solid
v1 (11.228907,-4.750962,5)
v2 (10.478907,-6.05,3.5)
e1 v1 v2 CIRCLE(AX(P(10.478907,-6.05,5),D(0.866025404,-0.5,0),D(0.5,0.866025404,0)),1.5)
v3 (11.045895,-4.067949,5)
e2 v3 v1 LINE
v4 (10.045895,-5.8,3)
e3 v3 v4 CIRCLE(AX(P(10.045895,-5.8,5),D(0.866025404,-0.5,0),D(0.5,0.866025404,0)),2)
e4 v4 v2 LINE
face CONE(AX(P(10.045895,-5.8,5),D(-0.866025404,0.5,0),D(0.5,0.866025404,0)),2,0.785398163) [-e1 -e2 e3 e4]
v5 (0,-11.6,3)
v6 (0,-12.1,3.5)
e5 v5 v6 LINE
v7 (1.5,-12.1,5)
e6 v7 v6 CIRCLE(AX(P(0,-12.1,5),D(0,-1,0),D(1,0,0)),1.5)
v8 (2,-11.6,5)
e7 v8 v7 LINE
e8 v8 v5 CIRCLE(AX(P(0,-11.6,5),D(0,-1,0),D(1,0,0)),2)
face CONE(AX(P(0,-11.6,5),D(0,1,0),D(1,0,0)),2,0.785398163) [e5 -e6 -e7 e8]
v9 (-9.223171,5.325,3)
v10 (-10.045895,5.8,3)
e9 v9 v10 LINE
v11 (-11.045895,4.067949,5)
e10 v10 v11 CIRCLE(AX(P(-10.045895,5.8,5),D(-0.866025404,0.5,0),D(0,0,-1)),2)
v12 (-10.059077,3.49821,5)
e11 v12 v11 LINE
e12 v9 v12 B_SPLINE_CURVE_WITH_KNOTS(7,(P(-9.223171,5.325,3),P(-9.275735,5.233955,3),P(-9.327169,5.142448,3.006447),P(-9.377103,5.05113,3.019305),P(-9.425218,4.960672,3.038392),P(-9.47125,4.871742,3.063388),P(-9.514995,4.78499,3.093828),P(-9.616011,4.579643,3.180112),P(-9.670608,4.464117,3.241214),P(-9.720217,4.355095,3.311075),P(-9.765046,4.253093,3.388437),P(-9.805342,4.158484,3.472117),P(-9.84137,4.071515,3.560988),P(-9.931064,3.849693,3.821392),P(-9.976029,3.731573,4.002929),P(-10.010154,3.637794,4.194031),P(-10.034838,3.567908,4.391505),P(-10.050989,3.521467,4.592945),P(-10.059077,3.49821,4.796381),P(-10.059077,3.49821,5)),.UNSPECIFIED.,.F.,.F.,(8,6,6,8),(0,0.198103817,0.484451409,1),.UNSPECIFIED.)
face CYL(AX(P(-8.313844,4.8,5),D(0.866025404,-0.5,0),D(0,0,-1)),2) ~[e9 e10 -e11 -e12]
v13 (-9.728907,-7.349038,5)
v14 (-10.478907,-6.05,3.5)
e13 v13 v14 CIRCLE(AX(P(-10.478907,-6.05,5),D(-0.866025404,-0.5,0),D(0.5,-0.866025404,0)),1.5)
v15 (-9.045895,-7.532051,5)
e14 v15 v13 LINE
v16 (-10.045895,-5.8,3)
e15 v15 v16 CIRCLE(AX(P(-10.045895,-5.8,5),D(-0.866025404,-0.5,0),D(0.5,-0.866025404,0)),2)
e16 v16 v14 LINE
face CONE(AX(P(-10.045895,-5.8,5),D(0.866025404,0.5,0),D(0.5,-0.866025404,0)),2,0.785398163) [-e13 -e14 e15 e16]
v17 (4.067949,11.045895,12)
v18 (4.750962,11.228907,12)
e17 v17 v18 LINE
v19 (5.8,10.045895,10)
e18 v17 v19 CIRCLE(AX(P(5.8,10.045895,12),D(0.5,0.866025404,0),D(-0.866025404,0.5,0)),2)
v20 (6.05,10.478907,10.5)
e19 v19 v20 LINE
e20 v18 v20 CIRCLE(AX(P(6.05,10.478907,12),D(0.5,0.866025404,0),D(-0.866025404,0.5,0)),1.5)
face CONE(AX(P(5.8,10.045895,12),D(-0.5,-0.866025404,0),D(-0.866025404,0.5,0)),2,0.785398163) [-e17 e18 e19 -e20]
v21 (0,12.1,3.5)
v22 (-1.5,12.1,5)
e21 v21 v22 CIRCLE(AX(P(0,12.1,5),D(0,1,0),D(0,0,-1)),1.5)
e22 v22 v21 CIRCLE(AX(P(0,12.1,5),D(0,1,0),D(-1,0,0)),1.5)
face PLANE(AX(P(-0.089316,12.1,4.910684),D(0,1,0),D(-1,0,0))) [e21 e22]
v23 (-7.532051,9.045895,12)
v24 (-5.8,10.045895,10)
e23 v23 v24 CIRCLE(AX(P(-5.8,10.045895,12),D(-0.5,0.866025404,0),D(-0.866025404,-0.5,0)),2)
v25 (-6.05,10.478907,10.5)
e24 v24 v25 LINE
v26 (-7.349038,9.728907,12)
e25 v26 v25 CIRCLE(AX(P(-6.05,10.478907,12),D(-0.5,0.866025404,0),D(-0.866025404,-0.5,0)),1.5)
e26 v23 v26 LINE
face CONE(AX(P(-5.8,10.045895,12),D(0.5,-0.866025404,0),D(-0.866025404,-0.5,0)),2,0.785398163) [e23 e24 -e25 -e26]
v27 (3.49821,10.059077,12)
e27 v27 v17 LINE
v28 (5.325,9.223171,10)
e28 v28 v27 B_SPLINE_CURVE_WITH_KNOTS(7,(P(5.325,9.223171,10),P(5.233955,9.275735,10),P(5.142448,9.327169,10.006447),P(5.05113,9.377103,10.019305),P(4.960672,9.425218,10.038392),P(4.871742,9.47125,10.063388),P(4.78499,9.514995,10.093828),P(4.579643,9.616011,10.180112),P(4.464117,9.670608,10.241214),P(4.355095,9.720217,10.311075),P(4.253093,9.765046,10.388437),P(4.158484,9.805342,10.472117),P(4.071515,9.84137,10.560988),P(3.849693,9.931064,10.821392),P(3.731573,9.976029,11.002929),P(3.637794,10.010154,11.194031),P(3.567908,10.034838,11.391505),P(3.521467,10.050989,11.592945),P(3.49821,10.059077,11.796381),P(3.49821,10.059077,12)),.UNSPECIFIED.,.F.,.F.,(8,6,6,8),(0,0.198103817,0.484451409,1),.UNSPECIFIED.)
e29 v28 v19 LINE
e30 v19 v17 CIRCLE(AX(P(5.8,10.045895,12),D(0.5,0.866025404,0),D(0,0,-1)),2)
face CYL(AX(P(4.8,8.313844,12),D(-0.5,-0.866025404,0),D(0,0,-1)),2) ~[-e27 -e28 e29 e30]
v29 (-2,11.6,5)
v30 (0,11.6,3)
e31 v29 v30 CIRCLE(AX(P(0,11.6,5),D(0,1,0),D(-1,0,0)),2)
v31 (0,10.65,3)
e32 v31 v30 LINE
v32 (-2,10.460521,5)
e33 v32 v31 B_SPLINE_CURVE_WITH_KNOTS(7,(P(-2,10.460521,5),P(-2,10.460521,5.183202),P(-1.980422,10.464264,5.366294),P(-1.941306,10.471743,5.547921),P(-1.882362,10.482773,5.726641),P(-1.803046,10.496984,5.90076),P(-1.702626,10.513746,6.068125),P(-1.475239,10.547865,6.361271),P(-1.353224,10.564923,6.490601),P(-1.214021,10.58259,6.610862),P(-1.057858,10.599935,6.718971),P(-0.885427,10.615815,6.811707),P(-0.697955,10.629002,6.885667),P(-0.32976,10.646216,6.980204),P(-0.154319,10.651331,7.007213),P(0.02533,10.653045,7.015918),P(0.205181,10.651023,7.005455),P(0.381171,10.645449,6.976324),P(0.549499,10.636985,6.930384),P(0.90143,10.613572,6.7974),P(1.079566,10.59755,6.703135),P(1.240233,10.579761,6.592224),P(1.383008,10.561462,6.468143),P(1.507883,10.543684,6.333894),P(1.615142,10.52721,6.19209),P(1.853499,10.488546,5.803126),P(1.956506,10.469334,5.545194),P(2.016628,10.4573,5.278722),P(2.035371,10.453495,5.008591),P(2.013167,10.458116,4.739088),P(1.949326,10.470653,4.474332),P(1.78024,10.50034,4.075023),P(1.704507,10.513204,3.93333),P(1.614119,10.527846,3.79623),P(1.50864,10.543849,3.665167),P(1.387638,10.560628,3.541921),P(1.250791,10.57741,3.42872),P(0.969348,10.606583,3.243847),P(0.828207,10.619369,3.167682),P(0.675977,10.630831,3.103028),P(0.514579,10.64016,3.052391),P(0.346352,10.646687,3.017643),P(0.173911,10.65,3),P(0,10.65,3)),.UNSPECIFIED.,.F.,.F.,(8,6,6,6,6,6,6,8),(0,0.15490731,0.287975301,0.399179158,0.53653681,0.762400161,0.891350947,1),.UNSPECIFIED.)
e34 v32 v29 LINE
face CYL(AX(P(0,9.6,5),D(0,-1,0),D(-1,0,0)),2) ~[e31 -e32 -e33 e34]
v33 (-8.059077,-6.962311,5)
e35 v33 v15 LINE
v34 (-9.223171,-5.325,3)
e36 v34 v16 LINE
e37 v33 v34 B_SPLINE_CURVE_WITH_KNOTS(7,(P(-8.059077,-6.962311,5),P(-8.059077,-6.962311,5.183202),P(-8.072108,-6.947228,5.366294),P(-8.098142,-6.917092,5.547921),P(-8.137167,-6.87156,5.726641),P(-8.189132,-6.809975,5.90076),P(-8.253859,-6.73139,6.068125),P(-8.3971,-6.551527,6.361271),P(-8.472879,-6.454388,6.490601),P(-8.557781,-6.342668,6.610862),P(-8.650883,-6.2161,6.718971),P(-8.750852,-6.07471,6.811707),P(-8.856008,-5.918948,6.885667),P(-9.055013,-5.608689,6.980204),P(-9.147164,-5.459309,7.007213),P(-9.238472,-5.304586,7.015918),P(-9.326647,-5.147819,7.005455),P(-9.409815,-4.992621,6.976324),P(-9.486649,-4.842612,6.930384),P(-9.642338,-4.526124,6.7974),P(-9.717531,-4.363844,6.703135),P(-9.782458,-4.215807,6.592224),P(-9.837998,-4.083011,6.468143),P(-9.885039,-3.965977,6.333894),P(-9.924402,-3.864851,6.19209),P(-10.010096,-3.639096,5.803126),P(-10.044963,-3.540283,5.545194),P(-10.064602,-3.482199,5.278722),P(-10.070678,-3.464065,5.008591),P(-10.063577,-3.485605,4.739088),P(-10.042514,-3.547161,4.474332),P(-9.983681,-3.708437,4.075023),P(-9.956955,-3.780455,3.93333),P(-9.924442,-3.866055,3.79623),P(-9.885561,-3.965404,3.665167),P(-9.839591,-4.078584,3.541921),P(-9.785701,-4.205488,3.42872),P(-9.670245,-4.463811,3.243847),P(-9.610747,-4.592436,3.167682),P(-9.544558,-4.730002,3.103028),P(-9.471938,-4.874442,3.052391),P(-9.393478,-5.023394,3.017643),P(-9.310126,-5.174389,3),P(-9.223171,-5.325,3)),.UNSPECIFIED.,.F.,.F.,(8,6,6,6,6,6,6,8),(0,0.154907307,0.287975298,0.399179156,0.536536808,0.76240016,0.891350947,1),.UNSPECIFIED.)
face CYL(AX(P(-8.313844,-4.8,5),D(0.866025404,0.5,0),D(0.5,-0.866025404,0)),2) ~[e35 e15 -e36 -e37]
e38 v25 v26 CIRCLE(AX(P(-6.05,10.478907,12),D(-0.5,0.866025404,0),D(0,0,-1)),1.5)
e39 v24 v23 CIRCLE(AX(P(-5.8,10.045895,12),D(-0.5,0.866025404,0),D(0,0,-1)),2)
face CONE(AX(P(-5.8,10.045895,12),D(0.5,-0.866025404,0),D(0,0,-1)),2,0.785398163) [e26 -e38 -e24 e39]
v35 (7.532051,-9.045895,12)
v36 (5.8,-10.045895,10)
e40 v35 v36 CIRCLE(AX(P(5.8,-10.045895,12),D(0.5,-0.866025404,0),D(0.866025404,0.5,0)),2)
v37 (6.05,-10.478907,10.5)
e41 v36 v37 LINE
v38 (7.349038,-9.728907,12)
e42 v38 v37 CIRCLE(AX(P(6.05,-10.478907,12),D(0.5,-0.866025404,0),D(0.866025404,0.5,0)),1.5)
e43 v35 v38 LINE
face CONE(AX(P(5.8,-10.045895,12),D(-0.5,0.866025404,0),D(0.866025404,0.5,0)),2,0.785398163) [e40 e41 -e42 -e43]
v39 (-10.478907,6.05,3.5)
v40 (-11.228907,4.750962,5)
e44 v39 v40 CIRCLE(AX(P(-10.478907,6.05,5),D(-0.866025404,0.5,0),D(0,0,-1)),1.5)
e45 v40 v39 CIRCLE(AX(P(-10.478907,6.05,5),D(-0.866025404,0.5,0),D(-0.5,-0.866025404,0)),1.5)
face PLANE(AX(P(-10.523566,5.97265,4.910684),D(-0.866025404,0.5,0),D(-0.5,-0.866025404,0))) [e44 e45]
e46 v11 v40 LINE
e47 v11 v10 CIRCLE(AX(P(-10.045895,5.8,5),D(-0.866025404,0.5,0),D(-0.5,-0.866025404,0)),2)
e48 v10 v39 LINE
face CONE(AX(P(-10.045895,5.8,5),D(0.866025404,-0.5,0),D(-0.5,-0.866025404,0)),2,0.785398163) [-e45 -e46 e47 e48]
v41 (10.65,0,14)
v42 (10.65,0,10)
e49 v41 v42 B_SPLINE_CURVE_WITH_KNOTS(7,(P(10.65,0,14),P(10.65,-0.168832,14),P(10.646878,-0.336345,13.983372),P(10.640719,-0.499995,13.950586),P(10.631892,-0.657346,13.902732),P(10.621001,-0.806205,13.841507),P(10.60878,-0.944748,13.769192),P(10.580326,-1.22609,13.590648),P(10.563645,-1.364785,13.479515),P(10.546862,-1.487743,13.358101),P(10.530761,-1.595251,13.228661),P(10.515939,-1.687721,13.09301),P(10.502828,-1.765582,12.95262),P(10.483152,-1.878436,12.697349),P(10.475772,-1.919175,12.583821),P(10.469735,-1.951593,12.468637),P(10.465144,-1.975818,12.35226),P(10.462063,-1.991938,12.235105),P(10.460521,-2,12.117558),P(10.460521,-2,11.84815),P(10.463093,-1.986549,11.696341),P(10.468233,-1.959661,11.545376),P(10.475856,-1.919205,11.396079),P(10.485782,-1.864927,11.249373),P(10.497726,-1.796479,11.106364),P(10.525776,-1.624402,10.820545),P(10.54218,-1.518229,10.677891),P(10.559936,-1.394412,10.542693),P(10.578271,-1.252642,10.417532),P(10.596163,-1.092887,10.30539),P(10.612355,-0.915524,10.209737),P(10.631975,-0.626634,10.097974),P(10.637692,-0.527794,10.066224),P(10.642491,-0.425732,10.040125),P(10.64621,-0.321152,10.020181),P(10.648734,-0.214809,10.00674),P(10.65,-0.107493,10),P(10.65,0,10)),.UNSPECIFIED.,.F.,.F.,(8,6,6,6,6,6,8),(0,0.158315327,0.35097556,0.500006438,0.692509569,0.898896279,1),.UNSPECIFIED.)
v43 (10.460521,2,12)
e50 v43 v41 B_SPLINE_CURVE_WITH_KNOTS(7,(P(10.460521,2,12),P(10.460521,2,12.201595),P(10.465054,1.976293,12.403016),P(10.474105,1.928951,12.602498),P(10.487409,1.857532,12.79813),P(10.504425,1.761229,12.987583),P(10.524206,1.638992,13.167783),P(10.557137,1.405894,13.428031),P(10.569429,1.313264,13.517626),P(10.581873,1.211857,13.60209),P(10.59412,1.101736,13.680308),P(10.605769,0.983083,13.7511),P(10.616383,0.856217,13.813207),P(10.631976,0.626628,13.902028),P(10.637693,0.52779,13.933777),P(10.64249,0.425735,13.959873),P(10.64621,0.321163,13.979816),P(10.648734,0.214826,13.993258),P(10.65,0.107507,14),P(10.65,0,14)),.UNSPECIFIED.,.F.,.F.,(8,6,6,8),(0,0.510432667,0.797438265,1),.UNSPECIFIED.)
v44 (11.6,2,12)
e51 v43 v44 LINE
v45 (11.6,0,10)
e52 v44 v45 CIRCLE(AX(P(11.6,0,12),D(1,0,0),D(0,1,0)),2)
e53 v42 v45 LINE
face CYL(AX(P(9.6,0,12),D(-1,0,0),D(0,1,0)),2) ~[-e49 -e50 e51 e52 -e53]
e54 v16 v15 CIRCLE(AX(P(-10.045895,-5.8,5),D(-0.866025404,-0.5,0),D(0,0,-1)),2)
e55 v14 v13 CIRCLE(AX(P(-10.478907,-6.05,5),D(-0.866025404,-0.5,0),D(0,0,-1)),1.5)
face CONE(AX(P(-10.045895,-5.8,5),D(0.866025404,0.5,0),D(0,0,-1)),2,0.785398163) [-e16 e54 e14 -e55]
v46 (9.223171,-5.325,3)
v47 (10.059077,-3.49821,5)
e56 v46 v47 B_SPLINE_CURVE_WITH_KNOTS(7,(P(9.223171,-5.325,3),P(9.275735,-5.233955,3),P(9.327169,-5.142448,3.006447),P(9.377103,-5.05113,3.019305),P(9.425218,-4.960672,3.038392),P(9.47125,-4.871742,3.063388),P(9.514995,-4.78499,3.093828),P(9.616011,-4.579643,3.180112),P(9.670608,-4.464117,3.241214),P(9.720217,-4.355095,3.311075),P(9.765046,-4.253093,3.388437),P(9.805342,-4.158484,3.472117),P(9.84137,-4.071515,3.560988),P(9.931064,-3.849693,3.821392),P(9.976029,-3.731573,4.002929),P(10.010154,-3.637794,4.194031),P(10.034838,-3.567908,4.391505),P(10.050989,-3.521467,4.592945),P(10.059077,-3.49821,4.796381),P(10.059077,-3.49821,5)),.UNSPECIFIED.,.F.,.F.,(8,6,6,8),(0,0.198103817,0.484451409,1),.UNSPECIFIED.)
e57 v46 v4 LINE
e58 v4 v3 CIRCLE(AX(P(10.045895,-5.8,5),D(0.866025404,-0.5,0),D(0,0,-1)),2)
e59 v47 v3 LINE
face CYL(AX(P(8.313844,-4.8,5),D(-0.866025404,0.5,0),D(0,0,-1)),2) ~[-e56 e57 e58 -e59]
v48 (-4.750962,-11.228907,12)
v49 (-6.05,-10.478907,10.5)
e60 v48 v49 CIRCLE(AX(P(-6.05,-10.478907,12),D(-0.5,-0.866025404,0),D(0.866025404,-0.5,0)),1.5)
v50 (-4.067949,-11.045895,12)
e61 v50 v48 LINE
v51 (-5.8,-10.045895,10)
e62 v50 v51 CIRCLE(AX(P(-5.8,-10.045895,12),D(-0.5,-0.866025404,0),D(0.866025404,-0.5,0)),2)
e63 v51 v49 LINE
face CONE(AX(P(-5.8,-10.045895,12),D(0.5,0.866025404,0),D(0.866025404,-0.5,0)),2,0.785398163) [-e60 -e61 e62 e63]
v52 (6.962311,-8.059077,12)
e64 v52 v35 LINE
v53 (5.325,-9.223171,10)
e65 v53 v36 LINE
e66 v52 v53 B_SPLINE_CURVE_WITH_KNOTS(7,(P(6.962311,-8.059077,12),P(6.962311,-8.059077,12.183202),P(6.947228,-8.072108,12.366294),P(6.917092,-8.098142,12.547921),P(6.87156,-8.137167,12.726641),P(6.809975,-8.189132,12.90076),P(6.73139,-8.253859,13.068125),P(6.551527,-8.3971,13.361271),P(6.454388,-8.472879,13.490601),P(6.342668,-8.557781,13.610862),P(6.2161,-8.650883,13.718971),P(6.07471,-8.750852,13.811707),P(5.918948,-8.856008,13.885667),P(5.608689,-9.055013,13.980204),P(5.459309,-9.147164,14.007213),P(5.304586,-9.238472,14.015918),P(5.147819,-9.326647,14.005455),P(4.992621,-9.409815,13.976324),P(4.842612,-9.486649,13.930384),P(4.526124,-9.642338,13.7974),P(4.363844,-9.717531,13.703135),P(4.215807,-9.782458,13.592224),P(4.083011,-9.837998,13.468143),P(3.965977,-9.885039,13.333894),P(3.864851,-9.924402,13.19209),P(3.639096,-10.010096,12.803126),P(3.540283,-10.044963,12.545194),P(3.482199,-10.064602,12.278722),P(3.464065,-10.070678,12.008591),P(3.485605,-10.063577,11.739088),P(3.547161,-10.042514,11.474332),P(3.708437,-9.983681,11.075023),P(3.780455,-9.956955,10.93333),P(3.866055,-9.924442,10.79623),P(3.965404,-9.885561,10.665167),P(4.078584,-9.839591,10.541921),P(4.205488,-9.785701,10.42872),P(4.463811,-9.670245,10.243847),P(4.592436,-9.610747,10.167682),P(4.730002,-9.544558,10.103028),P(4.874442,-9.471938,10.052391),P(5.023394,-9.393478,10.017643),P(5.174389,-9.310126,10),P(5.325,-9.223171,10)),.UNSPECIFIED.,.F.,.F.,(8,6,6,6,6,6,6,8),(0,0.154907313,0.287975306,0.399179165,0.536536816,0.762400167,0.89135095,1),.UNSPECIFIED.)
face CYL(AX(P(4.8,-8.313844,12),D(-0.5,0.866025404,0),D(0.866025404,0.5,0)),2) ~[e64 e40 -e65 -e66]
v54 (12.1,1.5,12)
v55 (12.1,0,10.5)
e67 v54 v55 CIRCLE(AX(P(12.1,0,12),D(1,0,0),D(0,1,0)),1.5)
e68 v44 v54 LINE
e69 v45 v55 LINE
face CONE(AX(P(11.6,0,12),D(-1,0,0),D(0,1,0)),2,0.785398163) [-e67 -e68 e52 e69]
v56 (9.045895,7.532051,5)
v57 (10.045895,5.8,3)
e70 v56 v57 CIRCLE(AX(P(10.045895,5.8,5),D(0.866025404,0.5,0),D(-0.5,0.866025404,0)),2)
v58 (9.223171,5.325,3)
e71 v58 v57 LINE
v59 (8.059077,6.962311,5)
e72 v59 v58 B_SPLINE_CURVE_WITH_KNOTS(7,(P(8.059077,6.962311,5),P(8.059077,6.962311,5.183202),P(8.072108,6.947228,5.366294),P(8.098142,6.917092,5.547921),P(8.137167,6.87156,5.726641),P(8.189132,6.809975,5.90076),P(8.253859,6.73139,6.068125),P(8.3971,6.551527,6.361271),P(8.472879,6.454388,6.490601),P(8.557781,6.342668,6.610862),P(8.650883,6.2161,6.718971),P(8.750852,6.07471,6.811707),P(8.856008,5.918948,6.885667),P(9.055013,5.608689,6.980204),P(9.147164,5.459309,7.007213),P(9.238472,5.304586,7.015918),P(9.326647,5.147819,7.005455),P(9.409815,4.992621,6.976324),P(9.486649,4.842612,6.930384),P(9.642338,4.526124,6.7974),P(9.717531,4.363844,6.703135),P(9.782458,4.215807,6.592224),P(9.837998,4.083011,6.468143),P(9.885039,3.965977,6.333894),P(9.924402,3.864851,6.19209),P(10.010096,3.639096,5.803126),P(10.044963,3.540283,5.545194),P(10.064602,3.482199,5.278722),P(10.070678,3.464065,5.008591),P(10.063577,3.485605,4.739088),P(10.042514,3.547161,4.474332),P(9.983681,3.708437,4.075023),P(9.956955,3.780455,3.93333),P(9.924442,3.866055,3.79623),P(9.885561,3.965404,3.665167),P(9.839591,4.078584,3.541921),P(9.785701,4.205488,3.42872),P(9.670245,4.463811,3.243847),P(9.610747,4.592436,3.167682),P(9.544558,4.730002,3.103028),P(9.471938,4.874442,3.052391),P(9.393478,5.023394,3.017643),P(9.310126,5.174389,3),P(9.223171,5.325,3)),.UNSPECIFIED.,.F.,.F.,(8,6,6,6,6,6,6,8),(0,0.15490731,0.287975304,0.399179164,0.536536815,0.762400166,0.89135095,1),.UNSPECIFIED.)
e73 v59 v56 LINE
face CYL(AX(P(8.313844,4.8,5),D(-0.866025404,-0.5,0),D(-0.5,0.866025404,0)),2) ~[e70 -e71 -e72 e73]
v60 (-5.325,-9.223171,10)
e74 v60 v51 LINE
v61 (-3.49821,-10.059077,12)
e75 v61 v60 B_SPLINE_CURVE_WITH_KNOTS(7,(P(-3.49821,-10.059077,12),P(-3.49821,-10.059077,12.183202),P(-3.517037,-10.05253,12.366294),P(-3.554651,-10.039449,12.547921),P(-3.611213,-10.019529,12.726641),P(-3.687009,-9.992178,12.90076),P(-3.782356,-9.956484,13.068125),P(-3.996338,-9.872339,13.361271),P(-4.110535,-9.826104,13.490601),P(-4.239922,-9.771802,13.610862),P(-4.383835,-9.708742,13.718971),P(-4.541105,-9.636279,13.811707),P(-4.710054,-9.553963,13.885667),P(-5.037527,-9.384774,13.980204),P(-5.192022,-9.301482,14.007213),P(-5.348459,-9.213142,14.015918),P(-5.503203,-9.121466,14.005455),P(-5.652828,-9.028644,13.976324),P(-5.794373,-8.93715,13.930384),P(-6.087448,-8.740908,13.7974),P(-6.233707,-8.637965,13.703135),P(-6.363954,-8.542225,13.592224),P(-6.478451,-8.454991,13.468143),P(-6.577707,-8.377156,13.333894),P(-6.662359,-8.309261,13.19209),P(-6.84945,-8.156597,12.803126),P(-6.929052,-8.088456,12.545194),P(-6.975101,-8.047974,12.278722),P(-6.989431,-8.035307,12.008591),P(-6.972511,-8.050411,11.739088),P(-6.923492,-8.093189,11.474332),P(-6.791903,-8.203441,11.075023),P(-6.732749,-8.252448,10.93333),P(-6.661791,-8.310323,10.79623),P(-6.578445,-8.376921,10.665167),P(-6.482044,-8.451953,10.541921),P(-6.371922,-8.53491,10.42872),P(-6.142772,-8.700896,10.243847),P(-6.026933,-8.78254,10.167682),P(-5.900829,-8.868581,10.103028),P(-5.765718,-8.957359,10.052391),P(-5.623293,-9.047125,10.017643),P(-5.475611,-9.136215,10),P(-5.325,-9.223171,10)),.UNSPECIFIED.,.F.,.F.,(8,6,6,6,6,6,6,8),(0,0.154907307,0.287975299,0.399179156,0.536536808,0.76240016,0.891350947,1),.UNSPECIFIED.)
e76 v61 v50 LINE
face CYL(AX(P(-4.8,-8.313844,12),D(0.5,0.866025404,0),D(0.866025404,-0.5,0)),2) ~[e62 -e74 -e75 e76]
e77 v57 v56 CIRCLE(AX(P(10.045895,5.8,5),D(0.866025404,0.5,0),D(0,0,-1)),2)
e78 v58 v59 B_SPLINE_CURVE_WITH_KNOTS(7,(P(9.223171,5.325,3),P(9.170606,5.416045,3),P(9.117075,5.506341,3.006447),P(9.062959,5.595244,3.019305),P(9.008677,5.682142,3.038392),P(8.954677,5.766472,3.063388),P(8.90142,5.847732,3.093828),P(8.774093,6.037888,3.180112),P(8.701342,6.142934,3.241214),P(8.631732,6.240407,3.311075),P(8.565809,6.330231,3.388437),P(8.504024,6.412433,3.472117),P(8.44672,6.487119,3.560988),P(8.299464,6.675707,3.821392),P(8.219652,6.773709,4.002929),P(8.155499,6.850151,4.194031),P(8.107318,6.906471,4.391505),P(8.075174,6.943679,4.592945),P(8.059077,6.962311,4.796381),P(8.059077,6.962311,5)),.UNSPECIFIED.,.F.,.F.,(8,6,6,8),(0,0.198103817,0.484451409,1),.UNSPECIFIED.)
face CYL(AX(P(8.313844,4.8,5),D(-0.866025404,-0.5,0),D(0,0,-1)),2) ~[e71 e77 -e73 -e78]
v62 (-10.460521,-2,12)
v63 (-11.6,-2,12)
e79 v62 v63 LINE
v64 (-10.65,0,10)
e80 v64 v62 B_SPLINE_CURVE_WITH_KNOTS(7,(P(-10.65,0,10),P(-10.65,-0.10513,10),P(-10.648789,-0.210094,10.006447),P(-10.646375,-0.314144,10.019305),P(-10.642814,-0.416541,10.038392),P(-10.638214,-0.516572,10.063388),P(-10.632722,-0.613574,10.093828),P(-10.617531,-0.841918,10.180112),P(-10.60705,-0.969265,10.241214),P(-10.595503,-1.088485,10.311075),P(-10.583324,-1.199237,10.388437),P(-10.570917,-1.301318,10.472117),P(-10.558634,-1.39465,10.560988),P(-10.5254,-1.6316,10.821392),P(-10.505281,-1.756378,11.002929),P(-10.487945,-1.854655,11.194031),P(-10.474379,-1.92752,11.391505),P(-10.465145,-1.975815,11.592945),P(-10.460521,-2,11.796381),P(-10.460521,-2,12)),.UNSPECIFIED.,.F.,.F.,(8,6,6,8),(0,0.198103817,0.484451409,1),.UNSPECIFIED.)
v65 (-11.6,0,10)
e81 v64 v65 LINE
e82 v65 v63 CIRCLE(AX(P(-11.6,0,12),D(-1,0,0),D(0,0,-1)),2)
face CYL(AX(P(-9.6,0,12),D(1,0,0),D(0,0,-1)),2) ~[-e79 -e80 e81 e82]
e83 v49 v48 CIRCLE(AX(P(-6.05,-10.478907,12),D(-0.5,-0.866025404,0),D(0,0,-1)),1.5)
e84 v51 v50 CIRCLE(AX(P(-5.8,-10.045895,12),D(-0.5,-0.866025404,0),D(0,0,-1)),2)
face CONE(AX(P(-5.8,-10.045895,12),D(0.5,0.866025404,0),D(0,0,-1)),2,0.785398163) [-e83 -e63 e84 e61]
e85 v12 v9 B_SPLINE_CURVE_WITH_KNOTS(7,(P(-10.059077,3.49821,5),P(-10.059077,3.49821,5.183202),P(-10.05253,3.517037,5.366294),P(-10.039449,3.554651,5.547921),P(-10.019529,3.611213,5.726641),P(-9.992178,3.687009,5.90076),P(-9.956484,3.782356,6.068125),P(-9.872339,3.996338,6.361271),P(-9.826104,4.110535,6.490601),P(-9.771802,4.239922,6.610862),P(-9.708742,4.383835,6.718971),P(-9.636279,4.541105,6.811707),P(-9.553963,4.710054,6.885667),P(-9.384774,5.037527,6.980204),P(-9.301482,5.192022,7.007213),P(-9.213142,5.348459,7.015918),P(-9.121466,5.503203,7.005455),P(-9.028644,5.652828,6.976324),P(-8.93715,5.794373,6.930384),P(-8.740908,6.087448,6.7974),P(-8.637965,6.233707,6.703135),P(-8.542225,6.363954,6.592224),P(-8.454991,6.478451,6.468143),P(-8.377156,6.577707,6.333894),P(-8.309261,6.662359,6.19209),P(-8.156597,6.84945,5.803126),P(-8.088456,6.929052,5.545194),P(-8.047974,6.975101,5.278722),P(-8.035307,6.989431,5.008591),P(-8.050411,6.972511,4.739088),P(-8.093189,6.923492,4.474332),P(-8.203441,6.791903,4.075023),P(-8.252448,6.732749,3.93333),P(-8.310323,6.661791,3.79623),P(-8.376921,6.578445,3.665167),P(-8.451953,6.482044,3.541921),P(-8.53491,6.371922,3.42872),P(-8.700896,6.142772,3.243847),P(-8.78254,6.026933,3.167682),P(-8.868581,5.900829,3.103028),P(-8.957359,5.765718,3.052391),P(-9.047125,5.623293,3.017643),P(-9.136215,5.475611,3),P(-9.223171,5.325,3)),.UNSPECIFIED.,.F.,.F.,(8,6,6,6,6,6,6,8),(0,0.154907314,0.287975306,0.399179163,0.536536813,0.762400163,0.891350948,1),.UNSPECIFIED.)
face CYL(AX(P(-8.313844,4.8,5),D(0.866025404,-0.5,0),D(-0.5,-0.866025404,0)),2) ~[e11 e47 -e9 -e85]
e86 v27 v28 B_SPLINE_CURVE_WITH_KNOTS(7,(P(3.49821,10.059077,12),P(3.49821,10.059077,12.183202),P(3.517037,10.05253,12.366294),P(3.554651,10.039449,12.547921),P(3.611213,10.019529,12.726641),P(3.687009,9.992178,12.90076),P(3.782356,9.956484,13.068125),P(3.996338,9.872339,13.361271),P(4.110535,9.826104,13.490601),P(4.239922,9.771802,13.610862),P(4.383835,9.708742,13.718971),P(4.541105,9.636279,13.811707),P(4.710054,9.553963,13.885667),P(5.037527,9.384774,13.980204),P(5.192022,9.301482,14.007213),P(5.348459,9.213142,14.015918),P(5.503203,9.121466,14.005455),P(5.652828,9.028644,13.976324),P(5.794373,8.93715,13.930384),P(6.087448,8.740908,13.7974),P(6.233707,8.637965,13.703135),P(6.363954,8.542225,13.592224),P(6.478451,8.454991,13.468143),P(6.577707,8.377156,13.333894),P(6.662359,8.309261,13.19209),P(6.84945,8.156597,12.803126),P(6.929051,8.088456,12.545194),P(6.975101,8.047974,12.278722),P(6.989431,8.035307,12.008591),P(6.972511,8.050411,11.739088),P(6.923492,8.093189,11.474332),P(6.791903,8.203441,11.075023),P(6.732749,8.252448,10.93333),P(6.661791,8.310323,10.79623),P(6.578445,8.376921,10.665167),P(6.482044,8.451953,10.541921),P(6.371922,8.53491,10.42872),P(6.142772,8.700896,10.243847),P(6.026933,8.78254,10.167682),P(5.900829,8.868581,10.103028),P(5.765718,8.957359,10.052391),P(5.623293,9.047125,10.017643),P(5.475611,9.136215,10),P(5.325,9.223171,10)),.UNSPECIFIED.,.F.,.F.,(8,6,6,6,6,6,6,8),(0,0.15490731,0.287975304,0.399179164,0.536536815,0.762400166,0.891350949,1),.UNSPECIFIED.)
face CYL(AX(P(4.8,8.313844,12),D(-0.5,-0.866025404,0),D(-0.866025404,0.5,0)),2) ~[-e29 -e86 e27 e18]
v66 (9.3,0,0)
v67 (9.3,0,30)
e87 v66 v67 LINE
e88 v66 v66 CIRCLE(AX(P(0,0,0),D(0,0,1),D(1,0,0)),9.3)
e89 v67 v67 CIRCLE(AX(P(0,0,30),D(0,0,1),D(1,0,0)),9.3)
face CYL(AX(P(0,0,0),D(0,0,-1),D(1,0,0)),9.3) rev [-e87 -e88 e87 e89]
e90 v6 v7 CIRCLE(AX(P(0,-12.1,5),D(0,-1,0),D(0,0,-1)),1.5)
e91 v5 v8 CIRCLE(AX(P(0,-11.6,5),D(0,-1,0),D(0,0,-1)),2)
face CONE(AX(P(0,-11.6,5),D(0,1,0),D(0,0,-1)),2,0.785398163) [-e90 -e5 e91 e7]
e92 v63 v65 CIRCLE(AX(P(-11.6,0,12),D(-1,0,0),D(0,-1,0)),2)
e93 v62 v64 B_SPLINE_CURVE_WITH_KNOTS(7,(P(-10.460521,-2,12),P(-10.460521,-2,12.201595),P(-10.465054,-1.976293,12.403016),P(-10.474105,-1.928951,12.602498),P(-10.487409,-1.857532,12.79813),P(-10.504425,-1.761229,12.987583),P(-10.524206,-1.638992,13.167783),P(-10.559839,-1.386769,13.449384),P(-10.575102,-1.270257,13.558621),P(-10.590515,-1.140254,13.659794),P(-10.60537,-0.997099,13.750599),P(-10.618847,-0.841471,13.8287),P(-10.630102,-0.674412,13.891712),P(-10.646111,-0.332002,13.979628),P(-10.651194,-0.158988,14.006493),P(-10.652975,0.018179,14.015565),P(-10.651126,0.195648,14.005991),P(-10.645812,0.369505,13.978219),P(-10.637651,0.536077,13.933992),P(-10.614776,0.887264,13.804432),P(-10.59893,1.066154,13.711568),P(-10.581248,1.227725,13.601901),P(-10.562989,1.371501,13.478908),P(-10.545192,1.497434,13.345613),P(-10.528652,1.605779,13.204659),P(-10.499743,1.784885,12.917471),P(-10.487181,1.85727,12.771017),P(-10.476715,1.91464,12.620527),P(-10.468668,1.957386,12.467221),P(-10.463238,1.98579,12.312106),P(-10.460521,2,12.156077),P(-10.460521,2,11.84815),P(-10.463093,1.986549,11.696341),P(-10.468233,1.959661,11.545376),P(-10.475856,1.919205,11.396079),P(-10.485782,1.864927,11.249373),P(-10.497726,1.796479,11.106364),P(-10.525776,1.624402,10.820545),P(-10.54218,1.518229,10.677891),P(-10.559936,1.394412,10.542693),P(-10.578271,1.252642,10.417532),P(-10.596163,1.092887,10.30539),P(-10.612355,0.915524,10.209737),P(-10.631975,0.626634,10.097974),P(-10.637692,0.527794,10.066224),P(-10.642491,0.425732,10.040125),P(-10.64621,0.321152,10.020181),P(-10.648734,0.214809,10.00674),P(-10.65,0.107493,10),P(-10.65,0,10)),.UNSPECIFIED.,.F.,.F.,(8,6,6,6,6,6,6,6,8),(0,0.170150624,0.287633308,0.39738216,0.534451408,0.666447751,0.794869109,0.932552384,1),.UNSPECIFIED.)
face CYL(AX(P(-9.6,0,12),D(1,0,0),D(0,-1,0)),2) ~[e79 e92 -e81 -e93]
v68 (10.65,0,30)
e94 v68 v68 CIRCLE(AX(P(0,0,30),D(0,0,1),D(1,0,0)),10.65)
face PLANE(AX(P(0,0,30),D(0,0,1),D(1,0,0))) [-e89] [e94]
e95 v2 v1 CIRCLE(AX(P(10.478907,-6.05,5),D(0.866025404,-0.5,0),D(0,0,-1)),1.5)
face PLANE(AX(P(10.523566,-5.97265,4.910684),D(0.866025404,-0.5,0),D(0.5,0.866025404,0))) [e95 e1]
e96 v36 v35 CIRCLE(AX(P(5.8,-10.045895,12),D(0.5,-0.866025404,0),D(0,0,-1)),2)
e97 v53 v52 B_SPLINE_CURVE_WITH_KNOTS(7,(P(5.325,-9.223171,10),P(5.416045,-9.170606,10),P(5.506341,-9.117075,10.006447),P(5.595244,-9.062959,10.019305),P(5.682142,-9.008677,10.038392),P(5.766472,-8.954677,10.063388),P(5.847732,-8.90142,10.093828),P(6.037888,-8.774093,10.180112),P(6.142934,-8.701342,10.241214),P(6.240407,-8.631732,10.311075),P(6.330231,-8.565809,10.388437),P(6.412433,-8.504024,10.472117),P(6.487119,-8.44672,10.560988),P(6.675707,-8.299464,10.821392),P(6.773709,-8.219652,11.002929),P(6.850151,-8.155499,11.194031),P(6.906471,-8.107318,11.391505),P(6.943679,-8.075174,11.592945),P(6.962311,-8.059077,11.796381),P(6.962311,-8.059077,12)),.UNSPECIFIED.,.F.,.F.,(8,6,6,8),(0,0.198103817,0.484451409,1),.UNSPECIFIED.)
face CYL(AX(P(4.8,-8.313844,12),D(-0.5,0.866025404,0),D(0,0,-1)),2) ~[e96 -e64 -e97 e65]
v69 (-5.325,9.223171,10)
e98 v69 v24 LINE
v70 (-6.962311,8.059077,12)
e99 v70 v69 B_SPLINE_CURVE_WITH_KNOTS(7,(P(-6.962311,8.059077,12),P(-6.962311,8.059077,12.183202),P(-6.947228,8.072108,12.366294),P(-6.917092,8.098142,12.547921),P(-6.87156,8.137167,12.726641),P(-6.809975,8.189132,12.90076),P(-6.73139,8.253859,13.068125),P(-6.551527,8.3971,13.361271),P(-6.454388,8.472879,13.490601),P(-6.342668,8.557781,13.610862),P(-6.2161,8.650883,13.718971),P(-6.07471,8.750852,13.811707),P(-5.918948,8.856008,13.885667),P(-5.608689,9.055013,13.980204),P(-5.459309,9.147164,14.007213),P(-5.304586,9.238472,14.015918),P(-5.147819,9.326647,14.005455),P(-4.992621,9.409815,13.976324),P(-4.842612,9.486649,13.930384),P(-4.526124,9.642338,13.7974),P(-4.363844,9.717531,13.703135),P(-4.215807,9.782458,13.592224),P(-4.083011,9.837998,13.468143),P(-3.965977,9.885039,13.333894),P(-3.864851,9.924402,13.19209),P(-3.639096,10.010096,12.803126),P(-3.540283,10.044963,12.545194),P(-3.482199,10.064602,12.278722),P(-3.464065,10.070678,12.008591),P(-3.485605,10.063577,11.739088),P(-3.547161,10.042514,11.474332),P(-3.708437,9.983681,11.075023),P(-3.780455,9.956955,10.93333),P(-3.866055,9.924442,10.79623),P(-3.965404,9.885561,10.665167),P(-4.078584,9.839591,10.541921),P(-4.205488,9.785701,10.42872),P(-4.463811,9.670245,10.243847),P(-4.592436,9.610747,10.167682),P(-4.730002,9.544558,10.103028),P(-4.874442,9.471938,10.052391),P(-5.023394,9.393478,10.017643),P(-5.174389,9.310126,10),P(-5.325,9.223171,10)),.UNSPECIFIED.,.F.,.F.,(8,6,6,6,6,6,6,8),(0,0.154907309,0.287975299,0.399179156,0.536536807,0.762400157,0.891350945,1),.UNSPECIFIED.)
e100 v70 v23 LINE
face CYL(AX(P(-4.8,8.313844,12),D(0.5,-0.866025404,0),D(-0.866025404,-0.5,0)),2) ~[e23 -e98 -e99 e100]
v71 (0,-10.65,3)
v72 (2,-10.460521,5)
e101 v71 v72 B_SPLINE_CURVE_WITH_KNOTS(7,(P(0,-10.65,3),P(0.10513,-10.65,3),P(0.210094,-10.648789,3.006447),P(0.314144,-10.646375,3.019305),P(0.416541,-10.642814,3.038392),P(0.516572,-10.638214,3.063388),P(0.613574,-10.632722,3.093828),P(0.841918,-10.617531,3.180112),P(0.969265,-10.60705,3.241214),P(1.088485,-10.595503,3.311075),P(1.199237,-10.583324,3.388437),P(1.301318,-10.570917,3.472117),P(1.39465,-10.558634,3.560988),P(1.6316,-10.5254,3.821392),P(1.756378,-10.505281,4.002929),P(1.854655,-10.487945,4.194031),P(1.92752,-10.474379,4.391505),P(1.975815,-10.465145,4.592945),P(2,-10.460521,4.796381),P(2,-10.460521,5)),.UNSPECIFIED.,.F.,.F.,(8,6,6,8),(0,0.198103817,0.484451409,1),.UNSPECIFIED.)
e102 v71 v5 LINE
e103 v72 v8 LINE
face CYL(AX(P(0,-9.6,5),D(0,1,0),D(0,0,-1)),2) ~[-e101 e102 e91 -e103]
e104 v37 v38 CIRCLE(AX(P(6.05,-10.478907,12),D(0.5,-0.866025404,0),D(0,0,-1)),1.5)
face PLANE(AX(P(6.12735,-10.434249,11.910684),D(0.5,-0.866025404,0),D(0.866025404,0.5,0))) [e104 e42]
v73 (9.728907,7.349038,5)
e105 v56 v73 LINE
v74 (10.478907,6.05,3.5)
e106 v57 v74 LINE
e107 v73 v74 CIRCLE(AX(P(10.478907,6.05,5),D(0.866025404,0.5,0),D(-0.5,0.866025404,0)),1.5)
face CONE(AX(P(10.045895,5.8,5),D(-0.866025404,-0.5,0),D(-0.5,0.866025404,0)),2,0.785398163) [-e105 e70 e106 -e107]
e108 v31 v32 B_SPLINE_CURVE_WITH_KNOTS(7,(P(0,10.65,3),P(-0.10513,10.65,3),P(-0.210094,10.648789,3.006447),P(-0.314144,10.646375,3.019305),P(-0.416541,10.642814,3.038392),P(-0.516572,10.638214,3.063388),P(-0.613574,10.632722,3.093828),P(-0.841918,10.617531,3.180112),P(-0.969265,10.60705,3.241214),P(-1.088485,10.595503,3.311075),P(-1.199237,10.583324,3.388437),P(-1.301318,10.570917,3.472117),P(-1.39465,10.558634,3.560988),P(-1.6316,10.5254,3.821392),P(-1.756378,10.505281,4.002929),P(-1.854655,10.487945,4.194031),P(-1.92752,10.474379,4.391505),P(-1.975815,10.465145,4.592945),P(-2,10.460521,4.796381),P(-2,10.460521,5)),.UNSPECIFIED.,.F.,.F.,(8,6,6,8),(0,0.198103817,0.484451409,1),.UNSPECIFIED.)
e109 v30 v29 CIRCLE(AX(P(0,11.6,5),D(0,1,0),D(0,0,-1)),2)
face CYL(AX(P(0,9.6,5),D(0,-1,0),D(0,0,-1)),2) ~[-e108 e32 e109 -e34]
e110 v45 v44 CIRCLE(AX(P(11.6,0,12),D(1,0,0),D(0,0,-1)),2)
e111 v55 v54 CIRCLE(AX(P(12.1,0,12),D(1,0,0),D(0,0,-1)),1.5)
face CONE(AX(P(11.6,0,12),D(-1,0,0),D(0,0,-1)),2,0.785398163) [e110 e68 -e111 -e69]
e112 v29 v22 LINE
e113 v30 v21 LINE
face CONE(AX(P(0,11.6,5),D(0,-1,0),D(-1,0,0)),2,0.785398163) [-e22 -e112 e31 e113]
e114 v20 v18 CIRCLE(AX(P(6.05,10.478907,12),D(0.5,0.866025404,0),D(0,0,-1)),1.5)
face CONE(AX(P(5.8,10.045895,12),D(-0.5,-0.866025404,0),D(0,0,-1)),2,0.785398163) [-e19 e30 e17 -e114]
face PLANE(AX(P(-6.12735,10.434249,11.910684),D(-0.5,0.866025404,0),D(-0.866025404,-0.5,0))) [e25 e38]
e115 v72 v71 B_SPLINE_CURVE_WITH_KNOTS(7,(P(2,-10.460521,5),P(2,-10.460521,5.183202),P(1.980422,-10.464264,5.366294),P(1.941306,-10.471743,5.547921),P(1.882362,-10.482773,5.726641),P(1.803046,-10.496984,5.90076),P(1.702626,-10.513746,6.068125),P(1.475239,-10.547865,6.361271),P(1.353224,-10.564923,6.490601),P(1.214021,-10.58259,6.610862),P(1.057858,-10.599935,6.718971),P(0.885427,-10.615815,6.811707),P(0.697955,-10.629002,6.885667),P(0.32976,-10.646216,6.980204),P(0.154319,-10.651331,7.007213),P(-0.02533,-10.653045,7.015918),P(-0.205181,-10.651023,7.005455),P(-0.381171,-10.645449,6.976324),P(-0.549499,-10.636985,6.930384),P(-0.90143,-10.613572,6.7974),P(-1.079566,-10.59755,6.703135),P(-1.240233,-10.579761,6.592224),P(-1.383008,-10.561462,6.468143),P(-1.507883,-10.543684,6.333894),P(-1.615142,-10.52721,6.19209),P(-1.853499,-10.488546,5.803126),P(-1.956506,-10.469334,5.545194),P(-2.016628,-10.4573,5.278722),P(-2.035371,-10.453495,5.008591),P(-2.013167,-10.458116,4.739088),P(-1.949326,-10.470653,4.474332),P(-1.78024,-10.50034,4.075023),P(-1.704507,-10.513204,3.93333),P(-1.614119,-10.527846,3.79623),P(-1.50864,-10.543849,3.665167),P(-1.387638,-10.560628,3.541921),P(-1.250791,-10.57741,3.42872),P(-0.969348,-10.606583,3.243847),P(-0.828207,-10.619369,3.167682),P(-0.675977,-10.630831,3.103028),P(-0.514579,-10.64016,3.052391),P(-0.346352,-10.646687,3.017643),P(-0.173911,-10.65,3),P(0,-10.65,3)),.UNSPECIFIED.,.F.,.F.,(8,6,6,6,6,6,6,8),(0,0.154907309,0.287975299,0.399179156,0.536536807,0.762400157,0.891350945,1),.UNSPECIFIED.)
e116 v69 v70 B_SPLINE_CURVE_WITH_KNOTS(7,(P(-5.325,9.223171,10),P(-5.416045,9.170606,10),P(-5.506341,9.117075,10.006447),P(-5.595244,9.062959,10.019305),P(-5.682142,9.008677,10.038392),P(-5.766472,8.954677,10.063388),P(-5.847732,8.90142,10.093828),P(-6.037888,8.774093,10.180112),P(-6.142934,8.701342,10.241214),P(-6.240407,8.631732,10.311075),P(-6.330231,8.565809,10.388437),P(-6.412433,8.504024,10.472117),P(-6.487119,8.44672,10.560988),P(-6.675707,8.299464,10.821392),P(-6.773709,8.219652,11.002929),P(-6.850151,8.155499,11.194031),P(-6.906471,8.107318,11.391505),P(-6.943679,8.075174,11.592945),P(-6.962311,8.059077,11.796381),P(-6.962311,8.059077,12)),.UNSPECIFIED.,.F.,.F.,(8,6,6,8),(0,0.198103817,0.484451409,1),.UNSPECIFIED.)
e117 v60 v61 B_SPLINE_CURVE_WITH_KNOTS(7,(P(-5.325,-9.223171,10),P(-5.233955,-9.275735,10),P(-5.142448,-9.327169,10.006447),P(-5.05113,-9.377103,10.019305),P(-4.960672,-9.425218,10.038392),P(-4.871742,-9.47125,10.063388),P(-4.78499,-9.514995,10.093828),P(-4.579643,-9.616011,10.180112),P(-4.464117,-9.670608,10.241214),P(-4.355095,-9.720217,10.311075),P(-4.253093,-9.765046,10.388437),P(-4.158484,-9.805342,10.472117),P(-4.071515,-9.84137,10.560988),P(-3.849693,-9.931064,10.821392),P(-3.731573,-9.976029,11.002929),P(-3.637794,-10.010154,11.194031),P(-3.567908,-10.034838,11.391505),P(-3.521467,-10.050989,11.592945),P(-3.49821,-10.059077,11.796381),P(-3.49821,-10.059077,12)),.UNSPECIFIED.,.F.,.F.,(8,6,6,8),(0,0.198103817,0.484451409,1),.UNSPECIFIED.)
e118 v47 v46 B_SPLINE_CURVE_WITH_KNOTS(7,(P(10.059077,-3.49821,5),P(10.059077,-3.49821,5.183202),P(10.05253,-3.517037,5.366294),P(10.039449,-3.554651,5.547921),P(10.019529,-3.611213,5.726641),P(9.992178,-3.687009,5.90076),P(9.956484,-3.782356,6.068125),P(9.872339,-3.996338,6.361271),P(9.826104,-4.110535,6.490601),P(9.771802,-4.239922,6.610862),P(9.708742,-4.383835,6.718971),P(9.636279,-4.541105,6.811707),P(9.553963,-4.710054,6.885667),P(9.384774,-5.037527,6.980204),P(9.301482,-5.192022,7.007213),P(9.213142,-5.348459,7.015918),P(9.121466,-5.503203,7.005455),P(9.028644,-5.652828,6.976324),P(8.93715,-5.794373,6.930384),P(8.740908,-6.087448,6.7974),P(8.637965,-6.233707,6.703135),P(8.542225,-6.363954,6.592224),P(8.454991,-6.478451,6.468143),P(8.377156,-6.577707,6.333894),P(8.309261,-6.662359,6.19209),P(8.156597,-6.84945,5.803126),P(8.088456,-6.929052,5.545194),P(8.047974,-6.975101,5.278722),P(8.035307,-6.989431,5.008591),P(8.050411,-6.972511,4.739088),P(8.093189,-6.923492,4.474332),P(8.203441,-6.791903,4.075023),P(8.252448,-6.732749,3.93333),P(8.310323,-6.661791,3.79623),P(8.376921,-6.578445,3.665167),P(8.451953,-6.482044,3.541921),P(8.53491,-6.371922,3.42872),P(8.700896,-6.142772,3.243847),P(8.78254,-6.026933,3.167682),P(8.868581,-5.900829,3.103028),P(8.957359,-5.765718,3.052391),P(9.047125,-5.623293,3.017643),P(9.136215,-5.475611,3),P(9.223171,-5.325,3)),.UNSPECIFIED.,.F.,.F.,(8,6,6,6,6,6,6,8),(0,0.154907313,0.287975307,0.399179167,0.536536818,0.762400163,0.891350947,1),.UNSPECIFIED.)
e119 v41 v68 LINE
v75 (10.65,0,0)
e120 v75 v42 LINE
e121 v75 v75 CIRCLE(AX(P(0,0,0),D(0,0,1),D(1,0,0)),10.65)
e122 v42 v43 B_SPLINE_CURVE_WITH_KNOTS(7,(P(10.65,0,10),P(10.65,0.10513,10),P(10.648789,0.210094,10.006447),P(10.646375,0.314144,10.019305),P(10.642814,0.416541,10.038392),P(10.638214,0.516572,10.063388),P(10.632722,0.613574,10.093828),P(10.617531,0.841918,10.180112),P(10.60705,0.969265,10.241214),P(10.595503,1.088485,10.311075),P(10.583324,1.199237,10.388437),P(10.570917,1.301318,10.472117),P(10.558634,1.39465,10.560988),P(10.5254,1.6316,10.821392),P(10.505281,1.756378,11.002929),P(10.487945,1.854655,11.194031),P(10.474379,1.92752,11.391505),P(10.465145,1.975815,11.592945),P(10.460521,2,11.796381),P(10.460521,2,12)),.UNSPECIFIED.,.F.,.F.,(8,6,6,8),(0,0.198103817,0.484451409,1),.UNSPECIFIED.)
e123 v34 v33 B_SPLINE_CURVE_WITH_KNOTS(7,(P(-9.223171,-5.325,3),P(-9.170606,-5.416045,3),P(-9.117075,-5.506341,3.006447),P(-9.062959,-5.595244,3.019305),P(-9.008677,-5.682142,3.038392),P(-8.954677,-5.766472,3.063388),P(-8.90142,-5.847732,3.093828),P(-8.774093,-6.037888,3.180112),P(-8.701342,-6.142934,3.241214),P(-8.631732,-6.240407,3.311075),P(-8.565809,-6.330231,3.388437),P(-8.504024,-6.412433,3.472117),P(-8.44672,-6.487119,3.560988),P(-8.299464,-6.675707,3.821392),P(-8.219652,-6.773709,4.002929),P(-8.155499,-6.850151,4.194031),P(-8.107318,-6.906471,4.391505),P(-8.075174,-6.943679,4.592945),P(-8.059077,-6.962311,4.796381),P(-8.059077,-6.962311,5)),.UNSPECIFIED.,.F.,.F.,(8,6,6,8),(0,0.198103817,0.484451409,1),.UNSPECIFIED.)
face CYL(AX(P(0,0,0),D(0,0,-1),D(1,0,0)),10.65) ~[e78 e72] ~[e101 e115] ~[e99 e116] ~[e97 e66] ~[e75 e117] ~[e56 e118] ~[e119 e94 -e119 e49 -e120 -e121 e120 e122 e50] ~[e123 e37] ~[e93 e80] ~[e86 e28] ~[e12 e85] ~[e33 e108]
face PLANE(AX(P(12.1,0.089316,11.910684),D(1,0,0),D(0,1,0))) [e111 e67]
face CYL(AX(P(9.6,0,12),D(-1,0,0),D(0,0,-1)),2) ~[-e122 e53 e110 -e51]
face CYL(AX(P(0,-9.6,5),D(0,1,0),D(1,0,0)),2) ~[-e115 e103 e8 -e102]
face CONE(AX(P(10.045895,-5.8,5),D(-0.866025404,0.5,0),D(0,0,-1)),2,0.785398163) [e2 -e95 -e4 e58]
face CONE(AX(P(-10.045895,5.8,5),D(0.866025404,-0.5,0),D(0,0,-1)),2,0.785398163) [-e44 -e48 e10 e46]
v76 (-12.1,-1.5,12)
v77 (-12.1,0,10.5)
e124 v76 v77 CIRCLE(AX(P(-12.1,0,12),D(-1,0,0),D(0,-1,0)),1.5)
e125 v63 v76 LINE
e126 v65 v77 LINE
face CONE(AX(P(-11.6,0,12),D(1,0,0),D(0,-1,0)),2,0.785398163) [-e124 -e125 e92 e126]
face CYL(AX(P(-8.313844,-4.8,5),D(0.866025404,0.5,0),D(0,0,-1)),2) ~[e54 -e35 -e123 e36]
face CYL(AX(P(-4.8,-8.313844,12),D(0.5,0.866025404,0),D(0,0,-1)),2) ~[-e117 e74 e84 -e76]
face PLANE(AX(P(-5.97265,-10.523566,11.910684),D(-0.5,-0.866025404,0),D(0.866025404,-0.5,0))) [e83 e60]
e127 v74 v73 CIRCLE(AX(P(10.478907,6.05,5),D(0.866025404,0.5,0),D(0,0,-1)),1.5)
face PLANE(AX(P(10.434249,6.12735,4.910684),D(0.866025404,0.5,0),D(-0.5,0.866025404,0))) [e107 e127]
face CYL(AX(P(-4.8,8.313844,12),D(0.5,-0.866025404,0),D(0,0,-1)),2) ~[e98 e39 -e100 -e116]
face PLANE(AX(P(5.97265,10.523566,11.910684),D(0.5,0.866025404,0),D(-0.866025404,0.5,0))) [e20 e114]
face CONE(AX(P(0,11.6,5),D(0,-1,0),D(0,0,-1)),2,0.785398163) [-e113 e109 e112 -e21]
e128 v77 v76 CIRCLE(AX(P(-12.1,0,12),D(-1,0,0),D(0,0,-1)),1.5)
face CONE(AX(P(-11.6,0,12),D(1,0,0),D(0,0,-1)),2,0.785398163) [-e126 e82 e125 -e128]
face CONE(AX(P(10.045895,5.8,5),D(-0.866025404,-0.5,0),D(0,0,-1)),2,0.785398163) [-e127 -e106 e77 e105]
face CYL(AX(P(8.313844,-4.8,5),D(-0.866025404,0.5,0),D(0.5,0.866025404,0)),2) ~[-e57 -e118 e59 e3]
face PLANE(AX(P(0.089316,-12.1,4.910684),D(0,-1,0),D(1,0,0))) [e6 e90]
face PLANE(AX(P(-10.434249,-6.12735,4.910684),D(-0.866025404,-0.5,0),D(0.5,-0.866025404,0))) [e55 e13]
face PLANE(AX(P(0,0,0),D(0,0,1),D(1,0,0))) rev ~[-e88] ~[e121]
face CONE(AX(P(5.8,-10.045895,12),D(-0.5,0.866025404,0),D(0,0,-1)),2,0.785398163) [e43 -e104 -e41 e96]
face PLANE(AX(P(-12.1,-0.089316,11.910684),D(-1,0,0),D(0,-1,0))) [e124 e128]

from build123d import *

# Parameters (mm, degrees)
F0_R     = 10.65
F0_R_2   = 9.3
F1_DEPTH = 30
F3_DEPTH = 2.5
F4_SIZE  = 0.5
F6_COUNT = 6
F8_ANGLE = 30
F9_COUNT = 6


with BuildPart() as f1:
    # F0 (on Top) → F1 (new body)
    with BuildSketch(Plane.XY):
        Circle(F0_R)
        Circle(F0_R_2, mode=Mode.SUBTRACT)
    extrude(amount=F1_DEPTH)



with BuildPart() as f3:
    # F2 (on Front) → F3 (new body)
    with BuildSketch(Plane.XZ):
        with BuildLine():
            ThreePointArc((0, 3), (1.4142135624, 3.5857864376), (2, 5))
            ThreePointArc((2, 5), (-1.4142135624, 6.4142135624), (0, 3))
        make_face()
    extrude(amount=F3_DEPTH)

    # F4
    f4_edges = [f3.edges().sort_by_distance(p)[0] for p in [
        (0, -2.5, 7),
    ]]
    chamfer(f4_edges, length=F4_SIZE)


with BuildPart() as f3_1:
    # F5: moved
    add(f3.part.moved(Location((0, -9.6, 0))))


with BuildPart() as f6_1:
    # F6: instance of F3
    add(f3_1.part.rotate(Axis((0, 0, 0), (0, 0, -1)), 1 * 360 / F6_COUNT))


with BuildPart() as f6_2:
    # F6: instance of F3
    add(f3_1.part.rotate(Axis((0, 0, 0), (0, 0, -1)), 2 * 360 / F6_COUNT))


with BuildPart() as f6_3:
    # F6: instance of F3
    add(f3_1.part.rotate(Axis((0, 0, 0), (0, 0, -1)), 3 * 360 / F6_COUNT))


with BuildPart() as f6_4:
    # F6: instance of F3
    add(f3_1.part.rotate(Axis((0, 0, 0), (0, 0, -1)), 4 * 360 / F6_COUNT))


with BuildPart() as f6_5:
    # F6: instance of F3
    add(f3_1.part.rotate(Axis((0, 0, 0), (0, 0, -1)), 5 * 360 / F6_COUNT))


with BuildPart() as f7_1:
    # F7: copy of F3
    add(f3_1.part.moved(Location((0, 0, 7))))


with BuildPart() as f7_1_1:
    # F8: moved
    add(f7_1.part.rotate(Axis((0, 0, 0), (0, 0, -1)), F8_ANGLE))


with BuildPart() as f1_1:
    add(f1.part)

    add(f3_1.part)  # F9 merges F3

    add(f6_1.part)  # F9 merges F6_1

    add(f6_2.part)  # F9 merges F6_2

    add(f6_3.part)  # F9 merges F6_3

    add(f6_4.part)  # F9 merges F6_4

    add(f6_5.part)  # F9 merges F6_5

    add(f7_1_1.part)  # F9 merges F7_1
    # F9: F7_1 ×6 about axis
    f9_axis = Axis((0, 0, 0), (0, 0, -1))
    for i in range(1, F9_COUNT):
        add(f7_1_1.part.rotate(f9_axis, i * 360 / F9_COUNT))


solid = f1_1.part
